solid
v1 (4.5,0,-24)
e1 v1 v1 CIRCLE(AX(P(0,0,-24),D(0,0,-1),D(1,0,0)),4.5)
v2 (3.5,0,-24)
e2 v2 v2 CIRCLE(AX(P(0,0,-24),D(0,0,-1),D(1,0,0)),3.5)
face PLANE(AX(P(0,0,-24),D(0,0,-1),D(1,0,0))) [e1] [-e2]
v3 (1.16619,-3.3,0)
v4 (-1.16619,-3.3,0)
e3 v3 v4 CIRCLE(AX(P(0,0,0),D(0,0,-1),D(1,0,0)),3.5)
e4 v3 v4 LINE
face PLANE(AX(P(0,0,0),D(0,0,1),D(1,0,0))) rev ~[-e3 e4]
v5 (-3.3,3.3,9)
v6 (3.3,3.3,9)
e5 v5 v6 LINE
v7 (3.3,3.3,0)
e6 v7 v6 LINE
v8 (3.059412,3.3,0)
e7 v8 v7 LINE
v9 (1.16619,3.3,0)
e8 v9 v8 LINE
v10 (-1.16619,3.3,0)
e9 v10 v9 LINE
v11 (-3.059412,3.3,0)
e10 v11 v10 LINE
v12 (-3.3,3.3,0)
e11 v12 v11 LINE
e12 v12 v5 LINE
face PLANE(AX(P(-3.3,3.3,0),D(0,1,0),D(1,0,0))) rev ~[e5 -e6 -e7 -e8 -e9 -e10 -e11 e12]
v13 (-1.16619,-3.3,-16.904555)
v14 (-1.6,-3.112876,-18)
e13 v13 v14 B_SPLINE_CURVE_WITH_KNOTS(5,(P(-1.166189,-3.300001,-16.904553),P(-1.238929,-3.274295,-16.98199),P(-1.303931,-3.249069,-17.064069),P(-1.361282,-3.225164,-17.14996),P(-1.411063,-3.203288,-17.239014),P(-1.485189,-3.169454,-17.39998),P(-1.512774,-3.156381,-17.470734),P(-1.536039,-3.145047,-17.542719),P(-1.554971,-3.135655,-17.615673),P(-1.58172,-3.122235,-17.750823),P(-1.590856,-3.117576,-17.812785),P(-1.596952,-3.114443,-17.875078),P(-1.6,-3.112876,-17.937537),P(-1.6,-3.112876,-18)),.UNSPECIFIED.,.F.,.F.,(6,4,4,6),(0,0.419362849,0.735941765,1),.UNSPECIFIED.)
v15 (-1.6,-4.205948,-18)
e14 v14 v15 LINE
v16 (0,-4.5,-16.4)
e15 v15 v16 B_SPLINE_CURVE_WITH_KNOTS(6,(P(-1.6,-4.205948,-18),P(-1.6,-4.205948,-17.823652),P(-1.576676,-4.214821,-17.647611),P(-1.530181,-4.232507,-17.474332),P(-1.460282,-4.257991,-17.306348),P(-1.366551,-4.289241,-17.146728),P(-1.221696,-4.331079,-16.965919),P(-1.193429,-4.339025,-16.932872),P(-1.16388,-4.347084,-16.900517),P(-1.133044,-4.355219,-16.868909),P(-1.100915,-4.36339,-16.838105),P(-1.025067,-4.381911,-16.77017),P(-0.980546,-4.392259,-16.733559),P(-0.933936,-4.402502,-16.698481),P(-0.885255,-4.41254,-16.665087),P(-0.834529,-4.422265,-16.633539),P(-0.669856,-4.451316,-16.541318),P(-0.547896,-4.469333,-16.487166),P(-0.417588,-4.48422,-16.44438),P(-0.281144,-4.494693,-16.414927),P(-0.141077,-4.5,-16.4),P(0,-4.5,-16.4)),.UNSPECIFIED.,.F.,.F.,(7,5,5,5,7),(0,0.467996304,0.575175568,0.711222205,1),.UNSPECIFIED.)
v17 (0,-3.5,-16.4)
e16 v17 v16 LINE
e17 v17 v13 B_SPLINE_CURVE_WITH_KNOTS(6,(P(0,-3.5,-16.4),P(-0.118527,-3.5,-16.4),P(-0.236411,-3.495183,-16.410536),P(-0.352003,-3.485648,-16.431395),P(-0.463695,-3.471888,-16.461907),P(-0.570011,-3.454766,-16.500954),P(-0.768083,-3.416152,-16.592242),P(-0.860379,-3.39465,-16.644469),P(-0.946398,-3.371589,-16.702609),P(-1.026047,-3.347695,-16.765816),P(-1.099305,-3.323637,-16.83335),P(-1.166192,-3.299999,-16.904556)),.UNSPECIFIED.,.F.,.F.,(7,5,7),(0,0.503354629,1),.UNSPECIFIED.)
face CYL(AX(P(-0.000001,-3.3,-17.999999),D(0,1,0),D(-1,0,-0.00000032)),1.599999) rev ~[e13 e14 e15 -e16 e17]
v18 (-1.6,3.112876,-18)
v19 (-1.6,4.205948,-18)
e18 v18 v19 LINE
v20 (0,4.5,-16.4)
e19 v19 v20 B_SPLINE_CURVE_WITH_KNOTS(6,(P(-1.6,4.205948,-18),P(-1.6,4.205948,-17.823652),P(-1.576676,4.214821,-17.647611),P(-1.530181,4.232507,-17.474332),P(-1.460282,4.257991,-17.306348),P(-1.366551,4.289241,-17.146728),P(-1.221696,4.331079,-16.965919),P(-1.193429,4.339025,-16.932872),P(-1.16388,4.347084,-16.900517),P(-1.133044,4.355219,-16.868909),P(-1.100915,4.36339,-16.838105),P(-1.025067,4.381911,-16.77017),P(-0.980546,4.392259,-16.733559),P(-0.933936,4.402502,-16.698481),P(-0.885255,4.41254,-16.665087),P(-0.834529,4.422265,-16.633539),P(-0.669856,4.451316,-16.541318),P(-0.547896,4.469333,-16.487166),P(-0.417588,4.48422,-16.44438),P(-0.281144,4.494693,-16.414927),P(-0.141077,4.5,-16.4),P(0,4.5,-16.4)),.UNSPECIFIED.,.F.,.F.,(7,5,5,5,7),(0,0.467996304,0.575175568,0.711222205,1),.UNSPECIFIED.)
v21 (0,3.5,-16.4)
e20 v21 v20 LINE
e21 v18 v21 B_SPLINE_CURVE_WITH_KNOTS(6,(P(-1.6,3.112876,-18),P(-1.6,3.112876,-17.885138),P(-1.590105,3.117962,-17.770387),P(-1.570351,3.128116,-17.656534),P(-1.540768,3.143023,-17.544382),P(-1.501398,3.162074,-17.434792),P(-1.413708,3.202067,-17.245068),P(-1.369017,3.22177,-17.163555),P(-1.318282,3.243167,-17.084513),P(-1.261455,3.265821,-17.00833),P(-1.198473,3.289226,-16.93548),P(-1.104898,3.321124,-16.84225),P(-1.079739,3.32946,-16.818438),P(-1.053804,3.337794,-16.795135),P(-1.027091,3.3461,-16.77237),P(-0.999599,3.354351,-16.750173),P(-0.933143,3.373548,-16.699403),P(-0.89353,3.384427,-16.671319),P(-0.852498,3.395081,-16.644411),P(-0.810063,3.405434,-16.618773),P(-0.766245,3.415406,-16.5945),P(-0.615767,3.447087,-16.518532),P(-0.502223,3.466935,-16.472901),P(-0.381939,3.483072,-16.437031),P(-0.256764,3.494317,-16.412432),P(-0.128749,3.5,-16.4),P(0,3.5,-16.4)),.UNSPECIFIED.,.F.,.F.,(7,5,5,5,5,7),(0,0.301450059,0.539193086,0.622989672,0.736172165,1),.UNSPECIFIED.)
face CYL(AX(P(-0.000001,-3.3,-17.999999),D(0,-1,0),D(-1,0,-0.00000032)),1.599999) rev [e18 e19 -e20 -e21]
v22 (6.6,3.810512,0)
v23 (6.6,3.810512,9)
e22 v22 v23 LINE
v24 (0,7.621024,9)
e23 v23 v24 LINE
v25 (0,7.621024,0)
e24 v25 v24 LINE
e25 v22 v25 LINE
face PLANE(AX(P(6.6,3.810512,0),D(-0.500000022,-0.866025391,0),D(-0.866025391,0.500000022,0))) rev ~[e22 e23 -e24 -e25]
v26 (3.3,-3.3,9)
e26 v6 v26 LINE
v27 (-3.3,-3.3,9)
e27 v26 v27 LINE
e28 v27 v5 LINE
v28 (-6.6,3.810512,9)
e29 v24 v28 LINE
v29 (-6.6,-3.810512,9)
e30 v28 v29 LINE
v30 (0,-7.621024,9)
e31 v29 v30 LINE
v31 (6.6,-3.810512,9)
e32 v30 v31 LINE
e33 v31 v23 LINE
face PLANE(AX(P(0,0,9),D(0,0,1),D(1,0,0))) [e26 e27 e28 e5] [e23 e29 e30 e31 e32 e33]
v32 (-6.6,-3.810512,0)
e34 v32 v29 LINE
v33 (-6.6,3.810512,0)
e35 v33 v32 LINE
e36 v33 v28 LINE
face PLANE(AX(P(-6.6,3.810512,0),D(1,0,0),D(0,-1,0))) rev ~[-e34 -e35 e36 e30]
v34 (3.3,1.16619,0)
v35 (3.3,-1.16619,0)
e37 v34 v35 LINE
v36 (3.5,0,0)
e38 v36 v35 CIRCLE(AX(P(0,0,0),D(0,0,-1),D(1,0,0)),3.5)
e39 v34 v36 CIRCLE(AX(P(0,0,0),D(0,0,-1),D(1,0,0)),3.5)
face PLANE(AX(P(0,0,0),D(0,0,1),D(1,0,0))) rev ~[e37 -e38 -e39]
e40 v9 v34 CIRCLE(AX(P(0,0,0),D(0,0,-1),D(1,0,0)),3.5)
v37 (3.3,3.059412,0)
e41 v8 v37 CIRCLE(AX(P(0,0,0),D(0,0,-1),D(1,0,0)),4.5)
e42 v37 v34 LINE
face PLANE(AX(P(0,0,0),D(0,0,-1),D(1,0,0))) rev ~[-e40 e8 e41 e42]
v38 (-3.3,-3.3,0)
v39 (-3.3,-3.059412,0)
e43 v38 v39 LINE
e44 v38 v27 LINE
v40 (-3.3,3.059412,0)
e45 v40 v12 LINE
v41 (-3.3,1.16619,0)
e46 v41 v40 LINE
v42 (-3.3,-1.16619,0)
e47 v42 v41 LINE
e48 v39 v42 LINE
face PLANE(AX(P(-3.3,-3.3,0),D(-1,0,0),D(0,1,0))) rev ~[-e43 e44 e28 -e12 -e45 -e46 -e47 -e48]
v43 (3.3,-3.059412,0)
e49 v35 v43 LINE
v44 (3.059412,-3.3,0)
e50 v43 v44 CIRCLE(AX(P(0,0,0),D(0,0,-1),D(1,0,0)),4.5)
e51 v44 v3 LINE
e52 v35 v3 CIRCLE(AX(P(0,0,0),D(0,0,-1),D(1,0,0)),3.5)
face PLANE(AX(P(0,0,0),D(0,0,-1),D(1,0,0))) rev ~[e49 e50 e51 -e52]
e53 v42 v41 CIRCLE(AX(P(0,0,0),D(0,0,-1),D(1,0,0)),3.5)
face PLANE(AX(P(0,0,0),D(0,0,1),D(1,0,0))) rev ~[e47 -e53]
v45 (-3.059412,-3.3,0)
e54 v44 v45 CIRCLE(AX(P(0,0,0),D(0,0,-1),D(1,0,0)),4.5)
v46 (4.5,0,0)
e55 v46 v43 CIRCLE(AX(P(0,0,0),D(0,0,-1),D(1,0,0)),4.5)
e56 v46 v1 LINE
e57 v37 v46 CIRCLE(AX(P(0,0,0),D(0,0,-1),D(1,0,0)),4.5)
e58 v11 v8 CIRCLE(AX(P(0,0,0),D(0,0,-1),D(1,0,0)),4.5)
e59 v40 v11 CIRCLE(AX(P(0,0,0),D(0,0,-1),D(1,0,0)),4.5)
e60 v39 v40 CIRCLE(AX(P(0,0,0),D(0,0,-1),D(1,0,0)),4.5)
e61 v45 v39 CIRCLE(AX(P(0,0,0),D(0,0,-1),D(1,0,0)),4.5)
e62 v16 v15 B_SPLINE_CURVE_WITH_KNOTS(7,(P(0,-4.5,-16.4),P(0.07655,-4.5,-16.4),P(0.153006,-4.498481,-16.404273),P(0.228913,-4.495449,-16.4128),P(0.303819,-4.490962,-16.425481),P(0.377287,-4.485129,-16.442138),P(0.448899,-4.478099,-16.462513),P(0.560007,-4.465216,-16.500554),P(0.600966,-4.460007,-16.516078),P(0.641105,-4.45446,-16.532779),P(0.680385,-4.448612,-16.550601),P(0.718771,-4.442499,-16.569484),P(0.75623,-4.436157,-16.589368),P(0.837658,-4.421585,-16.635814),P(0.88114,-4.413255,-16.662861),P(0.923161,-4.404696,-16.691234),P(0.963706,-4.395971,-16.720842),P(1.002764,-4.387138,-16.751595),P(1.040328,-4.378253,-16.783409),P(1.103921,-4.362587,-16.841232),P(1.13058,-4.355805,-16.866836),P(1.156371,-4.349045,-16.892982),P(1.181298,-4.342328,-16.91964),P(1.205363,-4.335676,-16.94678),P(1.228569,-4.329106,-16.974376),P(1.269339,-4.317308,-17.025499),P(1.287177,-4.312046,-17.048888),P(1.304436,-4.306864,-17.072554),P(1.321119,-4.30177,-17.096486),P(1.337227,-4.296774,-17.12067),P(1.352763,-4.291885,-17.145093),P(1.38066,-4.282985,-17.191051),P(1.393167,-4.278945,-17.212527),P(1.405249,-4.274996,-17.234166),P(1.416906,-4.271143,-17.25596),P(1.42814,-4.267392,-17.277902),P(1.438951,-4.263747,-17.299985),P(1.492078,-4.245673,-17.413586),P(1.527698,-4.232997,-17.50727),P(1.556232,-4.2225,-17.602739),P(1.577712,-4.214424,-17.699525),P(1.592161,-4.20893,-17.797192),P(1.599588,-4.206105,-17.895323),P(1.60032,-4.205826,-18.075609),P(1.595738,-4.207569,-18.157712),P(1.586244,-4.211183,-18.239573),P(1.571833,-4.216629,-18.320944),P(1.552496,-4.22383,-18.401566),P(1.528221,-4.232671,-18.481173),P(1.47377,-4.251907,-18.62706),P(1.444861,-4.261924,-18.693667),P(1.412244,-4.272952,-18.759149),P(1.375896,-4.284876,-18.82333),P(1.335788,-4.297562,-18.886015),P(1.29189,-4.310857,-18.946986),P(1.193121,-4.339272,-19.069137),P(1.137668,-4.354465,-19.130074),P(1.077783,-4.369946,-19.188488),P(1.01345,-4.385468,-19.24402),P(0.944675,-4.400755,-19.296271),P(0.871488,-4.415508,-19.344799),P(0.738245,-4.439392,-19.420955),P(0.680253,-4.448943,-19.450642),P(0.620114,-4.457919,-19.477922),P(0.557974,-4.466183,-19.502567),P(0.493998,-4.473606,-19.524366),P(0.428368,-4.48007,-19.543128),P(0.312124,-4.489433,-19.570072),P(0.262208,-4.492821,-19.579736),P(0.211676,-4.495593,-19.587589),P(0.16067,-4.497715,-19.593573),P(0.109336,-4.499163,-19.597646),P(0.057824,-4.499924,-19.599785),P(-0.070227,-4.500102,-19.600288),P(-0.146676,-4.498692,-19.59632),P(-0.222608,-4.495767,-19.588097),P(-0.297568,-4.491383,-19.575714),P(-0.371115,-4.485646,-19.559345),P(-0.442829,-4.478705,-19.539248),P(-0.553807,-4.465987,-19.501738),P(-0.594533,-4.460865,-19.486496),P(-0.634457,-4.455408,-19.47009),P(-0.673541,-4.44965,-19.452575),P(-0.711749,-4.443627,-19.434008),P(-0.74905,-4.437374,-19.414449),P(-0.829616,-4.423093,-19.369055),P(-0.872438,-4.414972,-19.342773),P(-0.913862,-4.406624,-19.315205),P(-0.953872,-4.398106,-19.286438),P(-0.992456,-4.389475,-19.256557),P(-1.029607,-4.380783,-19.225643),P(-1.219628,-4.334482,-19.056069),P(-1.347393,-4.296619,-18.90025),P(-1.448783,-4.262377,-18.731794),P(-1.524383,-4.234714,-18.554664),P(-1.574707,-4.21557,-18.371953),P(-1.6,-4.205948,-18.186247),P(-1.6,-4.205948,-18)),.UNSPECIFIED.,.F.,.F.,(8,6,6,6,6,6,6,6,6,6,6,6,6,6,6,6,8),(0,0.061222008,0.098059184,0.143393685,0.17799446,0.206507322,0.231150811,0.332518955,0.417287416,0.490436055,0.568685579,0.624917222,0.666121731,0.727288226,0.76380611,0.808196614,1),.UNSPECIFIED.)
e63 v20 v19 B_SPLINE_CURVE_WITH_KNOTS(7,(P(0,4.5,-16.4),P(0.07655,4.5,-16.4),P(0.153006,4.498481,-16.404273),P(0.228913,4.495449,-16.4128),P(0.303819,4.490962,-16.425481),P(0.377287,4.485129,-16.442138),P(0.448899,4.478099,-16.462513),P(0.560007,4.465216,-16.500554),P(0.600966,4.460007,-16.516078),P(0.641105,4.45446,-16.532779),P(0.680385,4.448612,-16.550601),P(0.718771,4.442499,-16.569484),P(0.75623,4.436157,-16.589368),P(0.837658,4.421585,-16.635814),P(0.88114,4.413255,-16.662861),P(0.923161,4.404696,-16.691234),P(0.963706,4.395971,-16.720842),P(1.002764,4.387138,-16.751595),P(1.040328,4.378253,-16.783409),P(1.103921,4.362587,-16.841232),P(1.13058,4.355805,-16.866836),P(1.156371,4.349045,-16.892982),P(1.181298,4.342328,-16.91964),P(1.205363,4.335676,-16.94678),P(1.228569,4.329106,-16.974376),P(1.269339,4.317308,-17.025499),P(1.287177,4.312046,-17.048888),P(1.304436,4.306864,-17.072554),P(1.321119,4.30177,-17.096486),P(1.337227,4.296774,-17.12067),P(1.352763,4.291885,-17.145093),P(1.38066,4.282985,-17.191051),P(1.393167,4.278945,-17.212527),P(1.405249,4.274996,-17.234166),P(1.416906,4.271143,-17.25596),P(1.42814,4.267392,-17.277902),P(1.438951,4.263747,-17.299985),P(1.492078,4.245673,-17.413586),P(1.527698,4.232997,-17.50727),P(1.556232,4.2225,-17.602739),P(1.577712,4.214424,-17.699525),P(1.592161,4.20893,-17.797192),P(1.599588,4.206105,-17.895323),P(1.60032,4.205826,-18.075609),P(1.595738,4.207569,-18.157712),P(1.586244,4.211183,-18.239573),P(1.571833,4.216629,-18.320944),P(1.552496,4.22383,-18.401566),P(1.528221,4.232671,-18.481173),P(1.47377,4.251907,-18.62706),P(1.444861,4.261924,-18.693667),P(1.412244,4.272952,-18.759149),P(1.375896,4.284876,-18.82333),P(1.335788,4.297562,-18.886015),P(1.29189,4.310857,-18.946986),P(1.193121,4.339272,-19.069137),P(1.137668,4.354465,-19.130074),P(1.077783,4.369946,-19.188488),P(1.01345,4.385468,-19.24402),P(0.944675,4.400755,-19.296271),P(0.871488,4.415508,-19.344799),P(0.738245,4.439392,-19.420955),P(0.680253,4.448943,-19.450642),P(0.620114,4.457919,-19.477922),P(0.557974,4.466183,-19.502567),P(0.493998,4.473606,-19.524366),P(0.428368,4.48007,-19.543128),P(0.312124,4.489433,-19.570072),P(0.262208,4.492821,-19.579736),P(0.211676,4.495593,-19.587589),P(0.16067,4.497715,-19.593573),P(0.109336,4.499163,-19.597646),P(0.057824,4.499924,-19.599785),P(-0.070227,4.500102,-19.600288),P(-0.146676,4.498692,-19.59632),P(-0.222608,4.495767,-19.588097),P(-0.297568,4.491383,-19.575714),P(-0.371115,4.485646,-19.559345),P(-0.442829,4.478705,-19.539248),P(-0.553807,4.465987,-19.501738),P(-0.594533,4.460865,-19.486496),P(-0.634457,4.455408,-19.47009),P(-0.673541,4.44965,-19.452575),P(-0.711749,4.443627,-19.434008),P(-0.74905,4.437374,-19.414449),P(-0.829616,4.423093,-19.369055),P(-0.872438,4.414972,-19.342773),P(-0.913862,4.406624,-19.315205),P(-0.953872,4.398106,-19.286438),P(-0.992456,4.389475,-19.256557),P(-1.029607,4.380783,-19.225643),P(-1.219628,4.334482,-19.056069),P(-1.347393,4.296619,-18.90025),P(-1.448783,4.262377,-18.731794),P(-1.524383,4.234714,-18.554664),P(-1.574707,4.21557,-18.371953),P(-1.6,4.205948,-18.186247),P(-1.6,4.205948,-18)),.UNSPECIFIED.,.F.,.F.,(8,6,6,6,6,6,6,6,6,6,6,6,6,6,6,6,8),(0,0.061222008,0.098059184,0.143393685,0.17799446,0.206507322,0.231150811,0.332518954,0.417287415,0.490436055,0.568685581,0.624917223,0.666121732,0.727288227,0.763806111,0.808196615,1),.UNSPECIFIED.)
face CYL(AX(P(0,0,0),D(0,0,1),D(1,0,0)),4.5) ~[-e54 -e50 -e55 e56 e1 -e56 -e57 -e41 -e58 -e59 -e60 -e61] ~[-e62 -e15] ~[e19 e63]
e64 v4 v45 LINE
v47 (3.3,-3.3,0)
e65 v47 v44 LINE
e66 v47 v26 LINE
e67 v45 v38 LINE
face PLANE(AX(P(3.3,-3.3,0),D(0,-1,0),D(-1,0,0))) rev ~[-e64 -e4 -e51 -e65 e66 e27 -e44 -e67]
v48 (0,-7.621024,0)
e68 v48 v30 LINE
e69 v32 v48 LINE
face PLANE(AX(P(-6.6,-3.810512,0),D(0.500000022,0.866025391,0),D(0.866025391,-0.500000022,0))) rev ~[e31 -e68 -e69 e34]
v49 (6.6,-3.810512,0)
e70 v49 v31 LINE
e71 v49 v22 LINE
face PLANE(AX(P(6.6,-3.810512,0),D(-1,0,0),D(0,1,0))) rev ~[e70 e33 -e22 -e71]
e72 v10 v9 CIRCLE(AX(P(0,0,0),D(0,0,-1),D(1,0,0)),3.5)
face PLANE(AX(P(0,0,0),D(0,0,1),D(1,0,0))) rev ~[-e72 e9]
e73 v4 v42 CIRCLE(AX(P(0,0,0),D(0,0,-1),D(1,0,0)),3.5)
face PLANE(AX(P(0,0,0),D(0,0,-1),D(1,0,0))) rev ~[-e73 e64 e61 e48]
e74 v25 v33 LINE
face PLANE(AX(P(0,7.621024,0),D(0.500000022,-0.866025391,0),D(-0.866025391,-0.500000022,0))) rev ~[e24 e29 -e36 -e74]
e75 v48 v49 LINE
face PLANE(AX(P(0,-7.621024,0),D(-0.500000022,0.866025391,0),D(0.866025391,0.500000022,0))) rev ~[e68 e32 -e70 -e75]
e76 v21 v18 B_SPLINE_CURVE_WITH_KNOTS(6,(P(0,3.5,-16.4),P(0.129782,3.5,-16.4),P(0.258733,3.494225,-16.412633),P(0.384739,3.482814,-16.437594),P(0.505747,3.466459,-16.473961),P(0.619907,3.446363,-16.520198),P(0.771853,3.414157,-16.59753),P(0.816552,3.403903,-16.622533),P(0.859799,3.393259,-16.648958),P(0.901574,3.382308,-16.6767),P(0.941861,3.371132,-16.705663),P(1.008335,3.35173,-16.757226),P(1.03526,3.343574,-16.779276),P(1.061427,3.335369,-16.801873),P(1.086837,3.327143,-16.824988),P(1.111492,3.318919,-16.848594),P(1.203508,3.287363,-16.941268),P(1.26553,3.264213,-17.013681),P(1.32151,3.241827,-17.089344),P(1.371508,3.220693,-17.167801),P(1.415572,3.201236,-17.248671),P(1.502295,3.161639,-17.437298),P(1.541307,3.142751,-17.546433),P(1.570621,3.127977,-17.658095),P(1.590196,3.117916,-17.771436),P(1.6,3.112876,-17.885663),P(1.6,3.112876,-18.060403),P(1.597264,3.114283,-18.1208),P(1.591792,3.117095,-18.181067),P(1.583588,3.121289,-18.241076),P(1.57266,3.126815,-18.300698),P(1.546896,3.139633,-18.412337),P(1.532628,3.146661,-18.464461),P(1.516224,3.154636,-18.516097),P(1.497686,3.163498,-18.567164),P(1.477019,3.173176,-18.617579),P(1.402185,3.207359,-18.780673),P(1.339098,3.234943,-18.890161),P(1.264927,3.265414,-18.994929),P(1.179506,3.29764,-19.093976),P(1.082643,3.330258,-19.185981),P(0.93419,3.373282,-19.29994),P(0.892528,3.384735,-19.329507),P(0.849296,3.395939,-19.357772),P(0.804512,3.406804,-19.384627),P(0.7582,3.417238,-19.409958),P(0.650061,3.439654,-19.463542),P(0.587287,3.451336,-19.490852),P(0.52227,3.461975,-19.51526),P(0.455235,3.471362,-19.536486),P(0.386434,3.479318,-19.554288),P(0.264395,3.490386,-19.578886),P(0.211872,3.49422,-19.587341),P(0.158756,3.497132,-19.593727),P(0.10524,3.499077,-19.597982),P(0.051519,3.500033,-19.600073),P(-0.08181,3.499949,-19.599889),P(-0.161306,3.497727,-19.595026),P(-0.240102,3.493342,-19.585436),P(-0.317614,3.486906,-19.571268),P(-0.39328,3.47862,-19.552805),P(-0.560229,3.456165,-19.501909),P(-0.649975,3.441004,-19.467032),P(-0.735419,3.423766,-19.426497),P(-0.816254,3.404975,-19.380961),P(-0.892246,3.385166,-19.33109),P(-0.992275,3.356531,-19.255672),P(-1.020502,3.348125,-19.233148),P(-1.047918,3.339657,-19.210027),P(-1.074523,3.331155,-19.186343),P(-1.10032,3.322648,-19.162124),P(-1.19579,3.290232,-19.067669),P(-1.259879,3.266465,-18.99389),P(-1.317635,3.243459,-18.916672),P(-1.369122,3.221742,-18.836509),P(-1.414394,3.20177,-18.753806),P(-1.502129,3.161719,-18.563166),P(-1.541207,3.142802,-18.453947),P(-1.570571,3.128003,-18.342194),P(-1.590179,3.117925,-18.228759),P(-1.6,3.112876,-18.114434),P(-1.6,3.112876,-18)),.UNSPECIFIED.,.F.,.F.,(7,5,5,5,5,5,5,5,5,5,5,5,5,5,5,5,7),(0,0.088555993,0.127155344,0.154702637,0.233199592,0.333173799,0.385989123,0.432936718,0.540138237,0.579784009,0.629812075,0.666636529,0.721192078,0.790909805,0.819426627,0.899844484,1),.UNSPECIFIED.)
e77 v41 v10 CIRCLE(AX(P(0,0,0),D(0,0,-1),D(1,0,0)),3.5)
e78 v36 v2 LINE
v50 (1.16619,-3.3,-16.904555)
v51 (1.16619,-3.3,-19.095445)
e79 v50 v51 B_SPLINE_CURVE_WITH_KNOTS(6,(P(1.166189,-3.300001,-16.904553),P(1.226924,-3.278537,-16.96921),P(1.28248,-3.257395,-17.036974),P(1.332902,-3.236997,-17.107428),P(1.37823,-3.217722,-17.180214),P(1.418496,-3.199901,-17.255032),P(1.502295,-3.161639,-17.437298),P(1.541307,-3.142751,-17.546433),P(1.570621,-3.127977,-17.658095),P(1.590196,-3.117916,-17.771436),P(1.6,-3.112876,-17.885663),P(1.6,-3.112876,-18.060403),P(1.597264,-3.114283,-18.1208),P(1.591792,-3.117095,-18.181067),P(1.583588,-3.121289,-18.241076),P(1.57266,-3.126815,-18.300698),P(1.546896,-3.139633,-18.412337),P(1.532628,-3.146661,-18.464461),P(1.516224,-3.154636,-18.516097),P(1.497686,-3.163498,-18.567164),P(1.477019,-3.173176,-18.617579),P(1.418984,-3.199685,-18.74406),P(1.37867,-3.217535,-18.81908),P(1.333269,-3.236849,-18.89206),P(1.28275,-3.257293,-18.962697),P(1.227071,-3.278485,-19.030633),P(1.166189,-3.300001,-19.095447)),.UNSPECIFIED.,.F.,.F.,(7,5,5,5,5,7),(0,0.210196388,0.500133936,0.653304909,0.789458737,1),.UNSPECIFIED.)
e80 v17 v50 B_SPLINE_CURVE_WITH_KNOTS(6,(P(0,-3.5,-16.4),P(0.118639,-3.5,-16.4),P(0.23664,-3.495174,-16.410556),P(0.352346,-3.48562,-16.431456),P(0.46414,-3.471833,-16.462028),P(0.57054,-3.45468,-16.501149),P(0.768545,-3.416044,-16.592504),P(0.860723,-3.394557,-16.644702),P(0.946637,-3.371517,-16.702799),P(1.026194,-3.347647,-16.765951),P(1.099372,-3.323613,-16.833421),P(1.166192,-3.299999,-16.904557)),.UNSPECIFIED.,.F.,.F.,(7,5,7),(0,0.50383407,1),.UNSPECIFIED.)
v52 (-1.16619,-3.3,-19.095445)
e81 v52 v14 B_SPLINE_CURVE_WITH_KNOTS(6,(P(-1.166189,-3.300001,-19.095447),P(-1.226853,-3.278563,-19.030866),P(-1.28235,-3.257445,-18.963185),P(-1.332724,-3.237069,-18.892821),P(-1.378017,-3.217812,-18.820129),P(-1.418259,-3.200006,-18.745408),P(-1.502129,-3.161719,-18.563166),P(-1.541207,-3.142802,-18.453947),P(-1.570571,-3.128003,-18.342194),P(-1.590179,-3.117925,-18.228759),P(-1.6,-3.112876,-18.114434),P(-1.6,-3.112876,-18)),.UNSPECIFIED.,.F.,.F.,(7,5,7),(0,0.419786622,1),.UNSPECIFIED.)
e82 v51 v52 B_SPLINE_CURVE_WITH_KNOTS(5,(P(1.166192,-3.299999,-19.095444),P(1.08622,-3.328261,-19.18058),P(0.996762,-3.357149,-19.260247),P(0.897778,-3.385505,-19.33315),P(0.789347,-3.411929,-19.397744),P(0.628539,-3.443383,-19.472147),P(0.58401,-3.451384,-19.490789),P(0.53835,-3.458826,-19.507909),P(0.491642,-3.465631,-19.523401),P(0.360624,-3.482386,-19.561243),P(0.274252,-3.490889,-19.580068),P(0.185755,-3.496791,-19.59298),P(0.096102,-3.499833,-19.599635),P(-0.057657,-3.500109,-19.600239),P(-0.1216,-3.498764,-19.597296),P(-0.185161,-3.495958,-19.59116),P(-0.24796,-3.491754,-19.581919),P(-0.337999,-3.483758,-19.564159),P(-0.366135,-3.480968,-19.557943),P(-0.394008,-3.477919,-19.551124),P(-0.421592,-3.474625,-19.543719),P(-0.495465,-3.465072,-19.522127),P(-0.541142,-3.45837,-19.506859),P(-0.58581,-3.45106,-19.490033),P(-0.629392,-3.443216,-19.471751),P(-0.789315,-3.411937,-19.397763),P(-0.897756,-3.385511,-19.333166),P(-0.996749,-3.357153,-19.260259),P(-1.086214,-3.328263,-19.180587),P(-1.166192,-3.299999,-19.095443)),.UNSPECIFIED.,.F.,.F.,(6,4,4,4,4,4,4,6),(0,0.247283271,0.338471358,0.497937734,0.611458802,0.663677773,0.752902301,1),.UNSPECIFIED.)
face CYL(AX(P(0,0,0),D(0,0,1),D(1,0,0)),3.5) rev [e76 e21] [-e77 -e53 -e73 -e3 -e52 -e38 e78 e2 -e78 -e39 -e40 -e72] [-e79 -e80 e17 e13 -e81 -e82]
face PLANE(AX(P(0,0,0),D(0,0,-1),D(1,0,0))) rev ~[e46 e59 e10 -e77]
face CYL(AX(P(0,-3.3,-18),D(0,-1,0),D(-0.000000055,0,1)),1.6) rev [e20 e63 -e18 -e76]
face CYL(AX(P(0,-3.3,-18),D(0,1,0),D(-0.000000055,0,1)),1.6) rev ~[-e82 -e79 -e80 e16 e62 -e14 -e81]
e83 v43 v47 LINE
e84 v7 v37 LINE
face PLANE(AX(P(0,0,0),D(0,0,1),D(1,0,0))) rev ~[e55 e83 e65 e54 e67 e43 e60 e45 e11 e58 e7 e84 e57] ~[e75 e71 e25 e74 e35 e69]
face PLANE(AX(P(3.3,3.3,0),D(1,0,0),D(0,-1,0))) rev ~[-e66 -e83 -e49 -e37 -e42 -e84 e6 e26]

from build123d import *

# Parameters (mm, degrees)
F1_DEPTH      = 9
F3_DEPTH      = 25
F4_R          = 4.5
F4_R_2        = 3.5
F5_DEPTH      = 24
F7_DEPTH      = 25
F7_DEPTH_BACK = 25


with BuildPart() as f1:
    # F0 (on Top) → F1 (new body)
    with BuildSketch(Plane.XY):
        Polygon((-3.3, 3.3), (-3.3, 0), (-3.3, -3.3), (0, -3.3), (3.3, -3.3), (3.3, 0), (3.3, 3.3), (0, 3.3), align=None)
        Polygon((6.6, -3.810512), (6.6, 3.810512), (0, 7.621024), (-6.6, 3.810512), (-6.6, -3.810512), (0, -7.621024), align=None)
        Polygon((-3.3, -3.3), (-3.3, 0), (-3.3, 3.3), (0, 3.3), (3.3, 3.3), (3.3, 0), (3.3, -3.3), (0, -3.3), align=None, mode=Mode.SUBTRACT)
    extrude(amount=F1_DEPTH)

    # F2 (on face) → F3 (cut)
    with BuildSketch(Plane(origin=(-6.6, 0, 0), x_dir=(0, -1, 0), z_dir=(-1, 0, 0))):
        with BuildLine():
            ThreePointArc((1.6, -12), (1.131371, -10.868629), (0, -10.4))
            ThreePointArc((0, -10.4), (-1.131371, -13.131371), (1.6, -12))
        make_face()
    extrude(amount=-F3_DEPTH, mode=Mode.SUBTRACT)

    # F4 (on face) → F5 (join)
    with BuildSketch(Plane(origin=(0, 0, 0), x_dir=(1, 0, 0), z_dir=(0, 0, -1))):
        Circle(F4_R)
        Circle(F4_R_2, mode=Mode.SUBTRACT)
    extrude(amount=F5_DEPTH)

    # F6 (on face) → F7 (cut, two sides)
    with BuildSketch(Plane(origin=(0, -3.3, 0), x_dir=(-1, 0, 0), z_dir=(0, 1, 0))) as f7_sk:
        with BuildLine():
            ThreePointArc((0, -16.4), (-1.131371, -19.131371), (1.6, -18))
            ThreePointArc((1.6, -18), (1.131371, -16.868629), (0, -16.4))
        make_face()
    extrude(amount=F7_DEPTH, mode=Mode.SUBTRACT)
    extrude(f7_sk.sketch, amount=-F7_DEPTH_BACK, mode=Mode.SUBTRACT)


solid = f1.part
